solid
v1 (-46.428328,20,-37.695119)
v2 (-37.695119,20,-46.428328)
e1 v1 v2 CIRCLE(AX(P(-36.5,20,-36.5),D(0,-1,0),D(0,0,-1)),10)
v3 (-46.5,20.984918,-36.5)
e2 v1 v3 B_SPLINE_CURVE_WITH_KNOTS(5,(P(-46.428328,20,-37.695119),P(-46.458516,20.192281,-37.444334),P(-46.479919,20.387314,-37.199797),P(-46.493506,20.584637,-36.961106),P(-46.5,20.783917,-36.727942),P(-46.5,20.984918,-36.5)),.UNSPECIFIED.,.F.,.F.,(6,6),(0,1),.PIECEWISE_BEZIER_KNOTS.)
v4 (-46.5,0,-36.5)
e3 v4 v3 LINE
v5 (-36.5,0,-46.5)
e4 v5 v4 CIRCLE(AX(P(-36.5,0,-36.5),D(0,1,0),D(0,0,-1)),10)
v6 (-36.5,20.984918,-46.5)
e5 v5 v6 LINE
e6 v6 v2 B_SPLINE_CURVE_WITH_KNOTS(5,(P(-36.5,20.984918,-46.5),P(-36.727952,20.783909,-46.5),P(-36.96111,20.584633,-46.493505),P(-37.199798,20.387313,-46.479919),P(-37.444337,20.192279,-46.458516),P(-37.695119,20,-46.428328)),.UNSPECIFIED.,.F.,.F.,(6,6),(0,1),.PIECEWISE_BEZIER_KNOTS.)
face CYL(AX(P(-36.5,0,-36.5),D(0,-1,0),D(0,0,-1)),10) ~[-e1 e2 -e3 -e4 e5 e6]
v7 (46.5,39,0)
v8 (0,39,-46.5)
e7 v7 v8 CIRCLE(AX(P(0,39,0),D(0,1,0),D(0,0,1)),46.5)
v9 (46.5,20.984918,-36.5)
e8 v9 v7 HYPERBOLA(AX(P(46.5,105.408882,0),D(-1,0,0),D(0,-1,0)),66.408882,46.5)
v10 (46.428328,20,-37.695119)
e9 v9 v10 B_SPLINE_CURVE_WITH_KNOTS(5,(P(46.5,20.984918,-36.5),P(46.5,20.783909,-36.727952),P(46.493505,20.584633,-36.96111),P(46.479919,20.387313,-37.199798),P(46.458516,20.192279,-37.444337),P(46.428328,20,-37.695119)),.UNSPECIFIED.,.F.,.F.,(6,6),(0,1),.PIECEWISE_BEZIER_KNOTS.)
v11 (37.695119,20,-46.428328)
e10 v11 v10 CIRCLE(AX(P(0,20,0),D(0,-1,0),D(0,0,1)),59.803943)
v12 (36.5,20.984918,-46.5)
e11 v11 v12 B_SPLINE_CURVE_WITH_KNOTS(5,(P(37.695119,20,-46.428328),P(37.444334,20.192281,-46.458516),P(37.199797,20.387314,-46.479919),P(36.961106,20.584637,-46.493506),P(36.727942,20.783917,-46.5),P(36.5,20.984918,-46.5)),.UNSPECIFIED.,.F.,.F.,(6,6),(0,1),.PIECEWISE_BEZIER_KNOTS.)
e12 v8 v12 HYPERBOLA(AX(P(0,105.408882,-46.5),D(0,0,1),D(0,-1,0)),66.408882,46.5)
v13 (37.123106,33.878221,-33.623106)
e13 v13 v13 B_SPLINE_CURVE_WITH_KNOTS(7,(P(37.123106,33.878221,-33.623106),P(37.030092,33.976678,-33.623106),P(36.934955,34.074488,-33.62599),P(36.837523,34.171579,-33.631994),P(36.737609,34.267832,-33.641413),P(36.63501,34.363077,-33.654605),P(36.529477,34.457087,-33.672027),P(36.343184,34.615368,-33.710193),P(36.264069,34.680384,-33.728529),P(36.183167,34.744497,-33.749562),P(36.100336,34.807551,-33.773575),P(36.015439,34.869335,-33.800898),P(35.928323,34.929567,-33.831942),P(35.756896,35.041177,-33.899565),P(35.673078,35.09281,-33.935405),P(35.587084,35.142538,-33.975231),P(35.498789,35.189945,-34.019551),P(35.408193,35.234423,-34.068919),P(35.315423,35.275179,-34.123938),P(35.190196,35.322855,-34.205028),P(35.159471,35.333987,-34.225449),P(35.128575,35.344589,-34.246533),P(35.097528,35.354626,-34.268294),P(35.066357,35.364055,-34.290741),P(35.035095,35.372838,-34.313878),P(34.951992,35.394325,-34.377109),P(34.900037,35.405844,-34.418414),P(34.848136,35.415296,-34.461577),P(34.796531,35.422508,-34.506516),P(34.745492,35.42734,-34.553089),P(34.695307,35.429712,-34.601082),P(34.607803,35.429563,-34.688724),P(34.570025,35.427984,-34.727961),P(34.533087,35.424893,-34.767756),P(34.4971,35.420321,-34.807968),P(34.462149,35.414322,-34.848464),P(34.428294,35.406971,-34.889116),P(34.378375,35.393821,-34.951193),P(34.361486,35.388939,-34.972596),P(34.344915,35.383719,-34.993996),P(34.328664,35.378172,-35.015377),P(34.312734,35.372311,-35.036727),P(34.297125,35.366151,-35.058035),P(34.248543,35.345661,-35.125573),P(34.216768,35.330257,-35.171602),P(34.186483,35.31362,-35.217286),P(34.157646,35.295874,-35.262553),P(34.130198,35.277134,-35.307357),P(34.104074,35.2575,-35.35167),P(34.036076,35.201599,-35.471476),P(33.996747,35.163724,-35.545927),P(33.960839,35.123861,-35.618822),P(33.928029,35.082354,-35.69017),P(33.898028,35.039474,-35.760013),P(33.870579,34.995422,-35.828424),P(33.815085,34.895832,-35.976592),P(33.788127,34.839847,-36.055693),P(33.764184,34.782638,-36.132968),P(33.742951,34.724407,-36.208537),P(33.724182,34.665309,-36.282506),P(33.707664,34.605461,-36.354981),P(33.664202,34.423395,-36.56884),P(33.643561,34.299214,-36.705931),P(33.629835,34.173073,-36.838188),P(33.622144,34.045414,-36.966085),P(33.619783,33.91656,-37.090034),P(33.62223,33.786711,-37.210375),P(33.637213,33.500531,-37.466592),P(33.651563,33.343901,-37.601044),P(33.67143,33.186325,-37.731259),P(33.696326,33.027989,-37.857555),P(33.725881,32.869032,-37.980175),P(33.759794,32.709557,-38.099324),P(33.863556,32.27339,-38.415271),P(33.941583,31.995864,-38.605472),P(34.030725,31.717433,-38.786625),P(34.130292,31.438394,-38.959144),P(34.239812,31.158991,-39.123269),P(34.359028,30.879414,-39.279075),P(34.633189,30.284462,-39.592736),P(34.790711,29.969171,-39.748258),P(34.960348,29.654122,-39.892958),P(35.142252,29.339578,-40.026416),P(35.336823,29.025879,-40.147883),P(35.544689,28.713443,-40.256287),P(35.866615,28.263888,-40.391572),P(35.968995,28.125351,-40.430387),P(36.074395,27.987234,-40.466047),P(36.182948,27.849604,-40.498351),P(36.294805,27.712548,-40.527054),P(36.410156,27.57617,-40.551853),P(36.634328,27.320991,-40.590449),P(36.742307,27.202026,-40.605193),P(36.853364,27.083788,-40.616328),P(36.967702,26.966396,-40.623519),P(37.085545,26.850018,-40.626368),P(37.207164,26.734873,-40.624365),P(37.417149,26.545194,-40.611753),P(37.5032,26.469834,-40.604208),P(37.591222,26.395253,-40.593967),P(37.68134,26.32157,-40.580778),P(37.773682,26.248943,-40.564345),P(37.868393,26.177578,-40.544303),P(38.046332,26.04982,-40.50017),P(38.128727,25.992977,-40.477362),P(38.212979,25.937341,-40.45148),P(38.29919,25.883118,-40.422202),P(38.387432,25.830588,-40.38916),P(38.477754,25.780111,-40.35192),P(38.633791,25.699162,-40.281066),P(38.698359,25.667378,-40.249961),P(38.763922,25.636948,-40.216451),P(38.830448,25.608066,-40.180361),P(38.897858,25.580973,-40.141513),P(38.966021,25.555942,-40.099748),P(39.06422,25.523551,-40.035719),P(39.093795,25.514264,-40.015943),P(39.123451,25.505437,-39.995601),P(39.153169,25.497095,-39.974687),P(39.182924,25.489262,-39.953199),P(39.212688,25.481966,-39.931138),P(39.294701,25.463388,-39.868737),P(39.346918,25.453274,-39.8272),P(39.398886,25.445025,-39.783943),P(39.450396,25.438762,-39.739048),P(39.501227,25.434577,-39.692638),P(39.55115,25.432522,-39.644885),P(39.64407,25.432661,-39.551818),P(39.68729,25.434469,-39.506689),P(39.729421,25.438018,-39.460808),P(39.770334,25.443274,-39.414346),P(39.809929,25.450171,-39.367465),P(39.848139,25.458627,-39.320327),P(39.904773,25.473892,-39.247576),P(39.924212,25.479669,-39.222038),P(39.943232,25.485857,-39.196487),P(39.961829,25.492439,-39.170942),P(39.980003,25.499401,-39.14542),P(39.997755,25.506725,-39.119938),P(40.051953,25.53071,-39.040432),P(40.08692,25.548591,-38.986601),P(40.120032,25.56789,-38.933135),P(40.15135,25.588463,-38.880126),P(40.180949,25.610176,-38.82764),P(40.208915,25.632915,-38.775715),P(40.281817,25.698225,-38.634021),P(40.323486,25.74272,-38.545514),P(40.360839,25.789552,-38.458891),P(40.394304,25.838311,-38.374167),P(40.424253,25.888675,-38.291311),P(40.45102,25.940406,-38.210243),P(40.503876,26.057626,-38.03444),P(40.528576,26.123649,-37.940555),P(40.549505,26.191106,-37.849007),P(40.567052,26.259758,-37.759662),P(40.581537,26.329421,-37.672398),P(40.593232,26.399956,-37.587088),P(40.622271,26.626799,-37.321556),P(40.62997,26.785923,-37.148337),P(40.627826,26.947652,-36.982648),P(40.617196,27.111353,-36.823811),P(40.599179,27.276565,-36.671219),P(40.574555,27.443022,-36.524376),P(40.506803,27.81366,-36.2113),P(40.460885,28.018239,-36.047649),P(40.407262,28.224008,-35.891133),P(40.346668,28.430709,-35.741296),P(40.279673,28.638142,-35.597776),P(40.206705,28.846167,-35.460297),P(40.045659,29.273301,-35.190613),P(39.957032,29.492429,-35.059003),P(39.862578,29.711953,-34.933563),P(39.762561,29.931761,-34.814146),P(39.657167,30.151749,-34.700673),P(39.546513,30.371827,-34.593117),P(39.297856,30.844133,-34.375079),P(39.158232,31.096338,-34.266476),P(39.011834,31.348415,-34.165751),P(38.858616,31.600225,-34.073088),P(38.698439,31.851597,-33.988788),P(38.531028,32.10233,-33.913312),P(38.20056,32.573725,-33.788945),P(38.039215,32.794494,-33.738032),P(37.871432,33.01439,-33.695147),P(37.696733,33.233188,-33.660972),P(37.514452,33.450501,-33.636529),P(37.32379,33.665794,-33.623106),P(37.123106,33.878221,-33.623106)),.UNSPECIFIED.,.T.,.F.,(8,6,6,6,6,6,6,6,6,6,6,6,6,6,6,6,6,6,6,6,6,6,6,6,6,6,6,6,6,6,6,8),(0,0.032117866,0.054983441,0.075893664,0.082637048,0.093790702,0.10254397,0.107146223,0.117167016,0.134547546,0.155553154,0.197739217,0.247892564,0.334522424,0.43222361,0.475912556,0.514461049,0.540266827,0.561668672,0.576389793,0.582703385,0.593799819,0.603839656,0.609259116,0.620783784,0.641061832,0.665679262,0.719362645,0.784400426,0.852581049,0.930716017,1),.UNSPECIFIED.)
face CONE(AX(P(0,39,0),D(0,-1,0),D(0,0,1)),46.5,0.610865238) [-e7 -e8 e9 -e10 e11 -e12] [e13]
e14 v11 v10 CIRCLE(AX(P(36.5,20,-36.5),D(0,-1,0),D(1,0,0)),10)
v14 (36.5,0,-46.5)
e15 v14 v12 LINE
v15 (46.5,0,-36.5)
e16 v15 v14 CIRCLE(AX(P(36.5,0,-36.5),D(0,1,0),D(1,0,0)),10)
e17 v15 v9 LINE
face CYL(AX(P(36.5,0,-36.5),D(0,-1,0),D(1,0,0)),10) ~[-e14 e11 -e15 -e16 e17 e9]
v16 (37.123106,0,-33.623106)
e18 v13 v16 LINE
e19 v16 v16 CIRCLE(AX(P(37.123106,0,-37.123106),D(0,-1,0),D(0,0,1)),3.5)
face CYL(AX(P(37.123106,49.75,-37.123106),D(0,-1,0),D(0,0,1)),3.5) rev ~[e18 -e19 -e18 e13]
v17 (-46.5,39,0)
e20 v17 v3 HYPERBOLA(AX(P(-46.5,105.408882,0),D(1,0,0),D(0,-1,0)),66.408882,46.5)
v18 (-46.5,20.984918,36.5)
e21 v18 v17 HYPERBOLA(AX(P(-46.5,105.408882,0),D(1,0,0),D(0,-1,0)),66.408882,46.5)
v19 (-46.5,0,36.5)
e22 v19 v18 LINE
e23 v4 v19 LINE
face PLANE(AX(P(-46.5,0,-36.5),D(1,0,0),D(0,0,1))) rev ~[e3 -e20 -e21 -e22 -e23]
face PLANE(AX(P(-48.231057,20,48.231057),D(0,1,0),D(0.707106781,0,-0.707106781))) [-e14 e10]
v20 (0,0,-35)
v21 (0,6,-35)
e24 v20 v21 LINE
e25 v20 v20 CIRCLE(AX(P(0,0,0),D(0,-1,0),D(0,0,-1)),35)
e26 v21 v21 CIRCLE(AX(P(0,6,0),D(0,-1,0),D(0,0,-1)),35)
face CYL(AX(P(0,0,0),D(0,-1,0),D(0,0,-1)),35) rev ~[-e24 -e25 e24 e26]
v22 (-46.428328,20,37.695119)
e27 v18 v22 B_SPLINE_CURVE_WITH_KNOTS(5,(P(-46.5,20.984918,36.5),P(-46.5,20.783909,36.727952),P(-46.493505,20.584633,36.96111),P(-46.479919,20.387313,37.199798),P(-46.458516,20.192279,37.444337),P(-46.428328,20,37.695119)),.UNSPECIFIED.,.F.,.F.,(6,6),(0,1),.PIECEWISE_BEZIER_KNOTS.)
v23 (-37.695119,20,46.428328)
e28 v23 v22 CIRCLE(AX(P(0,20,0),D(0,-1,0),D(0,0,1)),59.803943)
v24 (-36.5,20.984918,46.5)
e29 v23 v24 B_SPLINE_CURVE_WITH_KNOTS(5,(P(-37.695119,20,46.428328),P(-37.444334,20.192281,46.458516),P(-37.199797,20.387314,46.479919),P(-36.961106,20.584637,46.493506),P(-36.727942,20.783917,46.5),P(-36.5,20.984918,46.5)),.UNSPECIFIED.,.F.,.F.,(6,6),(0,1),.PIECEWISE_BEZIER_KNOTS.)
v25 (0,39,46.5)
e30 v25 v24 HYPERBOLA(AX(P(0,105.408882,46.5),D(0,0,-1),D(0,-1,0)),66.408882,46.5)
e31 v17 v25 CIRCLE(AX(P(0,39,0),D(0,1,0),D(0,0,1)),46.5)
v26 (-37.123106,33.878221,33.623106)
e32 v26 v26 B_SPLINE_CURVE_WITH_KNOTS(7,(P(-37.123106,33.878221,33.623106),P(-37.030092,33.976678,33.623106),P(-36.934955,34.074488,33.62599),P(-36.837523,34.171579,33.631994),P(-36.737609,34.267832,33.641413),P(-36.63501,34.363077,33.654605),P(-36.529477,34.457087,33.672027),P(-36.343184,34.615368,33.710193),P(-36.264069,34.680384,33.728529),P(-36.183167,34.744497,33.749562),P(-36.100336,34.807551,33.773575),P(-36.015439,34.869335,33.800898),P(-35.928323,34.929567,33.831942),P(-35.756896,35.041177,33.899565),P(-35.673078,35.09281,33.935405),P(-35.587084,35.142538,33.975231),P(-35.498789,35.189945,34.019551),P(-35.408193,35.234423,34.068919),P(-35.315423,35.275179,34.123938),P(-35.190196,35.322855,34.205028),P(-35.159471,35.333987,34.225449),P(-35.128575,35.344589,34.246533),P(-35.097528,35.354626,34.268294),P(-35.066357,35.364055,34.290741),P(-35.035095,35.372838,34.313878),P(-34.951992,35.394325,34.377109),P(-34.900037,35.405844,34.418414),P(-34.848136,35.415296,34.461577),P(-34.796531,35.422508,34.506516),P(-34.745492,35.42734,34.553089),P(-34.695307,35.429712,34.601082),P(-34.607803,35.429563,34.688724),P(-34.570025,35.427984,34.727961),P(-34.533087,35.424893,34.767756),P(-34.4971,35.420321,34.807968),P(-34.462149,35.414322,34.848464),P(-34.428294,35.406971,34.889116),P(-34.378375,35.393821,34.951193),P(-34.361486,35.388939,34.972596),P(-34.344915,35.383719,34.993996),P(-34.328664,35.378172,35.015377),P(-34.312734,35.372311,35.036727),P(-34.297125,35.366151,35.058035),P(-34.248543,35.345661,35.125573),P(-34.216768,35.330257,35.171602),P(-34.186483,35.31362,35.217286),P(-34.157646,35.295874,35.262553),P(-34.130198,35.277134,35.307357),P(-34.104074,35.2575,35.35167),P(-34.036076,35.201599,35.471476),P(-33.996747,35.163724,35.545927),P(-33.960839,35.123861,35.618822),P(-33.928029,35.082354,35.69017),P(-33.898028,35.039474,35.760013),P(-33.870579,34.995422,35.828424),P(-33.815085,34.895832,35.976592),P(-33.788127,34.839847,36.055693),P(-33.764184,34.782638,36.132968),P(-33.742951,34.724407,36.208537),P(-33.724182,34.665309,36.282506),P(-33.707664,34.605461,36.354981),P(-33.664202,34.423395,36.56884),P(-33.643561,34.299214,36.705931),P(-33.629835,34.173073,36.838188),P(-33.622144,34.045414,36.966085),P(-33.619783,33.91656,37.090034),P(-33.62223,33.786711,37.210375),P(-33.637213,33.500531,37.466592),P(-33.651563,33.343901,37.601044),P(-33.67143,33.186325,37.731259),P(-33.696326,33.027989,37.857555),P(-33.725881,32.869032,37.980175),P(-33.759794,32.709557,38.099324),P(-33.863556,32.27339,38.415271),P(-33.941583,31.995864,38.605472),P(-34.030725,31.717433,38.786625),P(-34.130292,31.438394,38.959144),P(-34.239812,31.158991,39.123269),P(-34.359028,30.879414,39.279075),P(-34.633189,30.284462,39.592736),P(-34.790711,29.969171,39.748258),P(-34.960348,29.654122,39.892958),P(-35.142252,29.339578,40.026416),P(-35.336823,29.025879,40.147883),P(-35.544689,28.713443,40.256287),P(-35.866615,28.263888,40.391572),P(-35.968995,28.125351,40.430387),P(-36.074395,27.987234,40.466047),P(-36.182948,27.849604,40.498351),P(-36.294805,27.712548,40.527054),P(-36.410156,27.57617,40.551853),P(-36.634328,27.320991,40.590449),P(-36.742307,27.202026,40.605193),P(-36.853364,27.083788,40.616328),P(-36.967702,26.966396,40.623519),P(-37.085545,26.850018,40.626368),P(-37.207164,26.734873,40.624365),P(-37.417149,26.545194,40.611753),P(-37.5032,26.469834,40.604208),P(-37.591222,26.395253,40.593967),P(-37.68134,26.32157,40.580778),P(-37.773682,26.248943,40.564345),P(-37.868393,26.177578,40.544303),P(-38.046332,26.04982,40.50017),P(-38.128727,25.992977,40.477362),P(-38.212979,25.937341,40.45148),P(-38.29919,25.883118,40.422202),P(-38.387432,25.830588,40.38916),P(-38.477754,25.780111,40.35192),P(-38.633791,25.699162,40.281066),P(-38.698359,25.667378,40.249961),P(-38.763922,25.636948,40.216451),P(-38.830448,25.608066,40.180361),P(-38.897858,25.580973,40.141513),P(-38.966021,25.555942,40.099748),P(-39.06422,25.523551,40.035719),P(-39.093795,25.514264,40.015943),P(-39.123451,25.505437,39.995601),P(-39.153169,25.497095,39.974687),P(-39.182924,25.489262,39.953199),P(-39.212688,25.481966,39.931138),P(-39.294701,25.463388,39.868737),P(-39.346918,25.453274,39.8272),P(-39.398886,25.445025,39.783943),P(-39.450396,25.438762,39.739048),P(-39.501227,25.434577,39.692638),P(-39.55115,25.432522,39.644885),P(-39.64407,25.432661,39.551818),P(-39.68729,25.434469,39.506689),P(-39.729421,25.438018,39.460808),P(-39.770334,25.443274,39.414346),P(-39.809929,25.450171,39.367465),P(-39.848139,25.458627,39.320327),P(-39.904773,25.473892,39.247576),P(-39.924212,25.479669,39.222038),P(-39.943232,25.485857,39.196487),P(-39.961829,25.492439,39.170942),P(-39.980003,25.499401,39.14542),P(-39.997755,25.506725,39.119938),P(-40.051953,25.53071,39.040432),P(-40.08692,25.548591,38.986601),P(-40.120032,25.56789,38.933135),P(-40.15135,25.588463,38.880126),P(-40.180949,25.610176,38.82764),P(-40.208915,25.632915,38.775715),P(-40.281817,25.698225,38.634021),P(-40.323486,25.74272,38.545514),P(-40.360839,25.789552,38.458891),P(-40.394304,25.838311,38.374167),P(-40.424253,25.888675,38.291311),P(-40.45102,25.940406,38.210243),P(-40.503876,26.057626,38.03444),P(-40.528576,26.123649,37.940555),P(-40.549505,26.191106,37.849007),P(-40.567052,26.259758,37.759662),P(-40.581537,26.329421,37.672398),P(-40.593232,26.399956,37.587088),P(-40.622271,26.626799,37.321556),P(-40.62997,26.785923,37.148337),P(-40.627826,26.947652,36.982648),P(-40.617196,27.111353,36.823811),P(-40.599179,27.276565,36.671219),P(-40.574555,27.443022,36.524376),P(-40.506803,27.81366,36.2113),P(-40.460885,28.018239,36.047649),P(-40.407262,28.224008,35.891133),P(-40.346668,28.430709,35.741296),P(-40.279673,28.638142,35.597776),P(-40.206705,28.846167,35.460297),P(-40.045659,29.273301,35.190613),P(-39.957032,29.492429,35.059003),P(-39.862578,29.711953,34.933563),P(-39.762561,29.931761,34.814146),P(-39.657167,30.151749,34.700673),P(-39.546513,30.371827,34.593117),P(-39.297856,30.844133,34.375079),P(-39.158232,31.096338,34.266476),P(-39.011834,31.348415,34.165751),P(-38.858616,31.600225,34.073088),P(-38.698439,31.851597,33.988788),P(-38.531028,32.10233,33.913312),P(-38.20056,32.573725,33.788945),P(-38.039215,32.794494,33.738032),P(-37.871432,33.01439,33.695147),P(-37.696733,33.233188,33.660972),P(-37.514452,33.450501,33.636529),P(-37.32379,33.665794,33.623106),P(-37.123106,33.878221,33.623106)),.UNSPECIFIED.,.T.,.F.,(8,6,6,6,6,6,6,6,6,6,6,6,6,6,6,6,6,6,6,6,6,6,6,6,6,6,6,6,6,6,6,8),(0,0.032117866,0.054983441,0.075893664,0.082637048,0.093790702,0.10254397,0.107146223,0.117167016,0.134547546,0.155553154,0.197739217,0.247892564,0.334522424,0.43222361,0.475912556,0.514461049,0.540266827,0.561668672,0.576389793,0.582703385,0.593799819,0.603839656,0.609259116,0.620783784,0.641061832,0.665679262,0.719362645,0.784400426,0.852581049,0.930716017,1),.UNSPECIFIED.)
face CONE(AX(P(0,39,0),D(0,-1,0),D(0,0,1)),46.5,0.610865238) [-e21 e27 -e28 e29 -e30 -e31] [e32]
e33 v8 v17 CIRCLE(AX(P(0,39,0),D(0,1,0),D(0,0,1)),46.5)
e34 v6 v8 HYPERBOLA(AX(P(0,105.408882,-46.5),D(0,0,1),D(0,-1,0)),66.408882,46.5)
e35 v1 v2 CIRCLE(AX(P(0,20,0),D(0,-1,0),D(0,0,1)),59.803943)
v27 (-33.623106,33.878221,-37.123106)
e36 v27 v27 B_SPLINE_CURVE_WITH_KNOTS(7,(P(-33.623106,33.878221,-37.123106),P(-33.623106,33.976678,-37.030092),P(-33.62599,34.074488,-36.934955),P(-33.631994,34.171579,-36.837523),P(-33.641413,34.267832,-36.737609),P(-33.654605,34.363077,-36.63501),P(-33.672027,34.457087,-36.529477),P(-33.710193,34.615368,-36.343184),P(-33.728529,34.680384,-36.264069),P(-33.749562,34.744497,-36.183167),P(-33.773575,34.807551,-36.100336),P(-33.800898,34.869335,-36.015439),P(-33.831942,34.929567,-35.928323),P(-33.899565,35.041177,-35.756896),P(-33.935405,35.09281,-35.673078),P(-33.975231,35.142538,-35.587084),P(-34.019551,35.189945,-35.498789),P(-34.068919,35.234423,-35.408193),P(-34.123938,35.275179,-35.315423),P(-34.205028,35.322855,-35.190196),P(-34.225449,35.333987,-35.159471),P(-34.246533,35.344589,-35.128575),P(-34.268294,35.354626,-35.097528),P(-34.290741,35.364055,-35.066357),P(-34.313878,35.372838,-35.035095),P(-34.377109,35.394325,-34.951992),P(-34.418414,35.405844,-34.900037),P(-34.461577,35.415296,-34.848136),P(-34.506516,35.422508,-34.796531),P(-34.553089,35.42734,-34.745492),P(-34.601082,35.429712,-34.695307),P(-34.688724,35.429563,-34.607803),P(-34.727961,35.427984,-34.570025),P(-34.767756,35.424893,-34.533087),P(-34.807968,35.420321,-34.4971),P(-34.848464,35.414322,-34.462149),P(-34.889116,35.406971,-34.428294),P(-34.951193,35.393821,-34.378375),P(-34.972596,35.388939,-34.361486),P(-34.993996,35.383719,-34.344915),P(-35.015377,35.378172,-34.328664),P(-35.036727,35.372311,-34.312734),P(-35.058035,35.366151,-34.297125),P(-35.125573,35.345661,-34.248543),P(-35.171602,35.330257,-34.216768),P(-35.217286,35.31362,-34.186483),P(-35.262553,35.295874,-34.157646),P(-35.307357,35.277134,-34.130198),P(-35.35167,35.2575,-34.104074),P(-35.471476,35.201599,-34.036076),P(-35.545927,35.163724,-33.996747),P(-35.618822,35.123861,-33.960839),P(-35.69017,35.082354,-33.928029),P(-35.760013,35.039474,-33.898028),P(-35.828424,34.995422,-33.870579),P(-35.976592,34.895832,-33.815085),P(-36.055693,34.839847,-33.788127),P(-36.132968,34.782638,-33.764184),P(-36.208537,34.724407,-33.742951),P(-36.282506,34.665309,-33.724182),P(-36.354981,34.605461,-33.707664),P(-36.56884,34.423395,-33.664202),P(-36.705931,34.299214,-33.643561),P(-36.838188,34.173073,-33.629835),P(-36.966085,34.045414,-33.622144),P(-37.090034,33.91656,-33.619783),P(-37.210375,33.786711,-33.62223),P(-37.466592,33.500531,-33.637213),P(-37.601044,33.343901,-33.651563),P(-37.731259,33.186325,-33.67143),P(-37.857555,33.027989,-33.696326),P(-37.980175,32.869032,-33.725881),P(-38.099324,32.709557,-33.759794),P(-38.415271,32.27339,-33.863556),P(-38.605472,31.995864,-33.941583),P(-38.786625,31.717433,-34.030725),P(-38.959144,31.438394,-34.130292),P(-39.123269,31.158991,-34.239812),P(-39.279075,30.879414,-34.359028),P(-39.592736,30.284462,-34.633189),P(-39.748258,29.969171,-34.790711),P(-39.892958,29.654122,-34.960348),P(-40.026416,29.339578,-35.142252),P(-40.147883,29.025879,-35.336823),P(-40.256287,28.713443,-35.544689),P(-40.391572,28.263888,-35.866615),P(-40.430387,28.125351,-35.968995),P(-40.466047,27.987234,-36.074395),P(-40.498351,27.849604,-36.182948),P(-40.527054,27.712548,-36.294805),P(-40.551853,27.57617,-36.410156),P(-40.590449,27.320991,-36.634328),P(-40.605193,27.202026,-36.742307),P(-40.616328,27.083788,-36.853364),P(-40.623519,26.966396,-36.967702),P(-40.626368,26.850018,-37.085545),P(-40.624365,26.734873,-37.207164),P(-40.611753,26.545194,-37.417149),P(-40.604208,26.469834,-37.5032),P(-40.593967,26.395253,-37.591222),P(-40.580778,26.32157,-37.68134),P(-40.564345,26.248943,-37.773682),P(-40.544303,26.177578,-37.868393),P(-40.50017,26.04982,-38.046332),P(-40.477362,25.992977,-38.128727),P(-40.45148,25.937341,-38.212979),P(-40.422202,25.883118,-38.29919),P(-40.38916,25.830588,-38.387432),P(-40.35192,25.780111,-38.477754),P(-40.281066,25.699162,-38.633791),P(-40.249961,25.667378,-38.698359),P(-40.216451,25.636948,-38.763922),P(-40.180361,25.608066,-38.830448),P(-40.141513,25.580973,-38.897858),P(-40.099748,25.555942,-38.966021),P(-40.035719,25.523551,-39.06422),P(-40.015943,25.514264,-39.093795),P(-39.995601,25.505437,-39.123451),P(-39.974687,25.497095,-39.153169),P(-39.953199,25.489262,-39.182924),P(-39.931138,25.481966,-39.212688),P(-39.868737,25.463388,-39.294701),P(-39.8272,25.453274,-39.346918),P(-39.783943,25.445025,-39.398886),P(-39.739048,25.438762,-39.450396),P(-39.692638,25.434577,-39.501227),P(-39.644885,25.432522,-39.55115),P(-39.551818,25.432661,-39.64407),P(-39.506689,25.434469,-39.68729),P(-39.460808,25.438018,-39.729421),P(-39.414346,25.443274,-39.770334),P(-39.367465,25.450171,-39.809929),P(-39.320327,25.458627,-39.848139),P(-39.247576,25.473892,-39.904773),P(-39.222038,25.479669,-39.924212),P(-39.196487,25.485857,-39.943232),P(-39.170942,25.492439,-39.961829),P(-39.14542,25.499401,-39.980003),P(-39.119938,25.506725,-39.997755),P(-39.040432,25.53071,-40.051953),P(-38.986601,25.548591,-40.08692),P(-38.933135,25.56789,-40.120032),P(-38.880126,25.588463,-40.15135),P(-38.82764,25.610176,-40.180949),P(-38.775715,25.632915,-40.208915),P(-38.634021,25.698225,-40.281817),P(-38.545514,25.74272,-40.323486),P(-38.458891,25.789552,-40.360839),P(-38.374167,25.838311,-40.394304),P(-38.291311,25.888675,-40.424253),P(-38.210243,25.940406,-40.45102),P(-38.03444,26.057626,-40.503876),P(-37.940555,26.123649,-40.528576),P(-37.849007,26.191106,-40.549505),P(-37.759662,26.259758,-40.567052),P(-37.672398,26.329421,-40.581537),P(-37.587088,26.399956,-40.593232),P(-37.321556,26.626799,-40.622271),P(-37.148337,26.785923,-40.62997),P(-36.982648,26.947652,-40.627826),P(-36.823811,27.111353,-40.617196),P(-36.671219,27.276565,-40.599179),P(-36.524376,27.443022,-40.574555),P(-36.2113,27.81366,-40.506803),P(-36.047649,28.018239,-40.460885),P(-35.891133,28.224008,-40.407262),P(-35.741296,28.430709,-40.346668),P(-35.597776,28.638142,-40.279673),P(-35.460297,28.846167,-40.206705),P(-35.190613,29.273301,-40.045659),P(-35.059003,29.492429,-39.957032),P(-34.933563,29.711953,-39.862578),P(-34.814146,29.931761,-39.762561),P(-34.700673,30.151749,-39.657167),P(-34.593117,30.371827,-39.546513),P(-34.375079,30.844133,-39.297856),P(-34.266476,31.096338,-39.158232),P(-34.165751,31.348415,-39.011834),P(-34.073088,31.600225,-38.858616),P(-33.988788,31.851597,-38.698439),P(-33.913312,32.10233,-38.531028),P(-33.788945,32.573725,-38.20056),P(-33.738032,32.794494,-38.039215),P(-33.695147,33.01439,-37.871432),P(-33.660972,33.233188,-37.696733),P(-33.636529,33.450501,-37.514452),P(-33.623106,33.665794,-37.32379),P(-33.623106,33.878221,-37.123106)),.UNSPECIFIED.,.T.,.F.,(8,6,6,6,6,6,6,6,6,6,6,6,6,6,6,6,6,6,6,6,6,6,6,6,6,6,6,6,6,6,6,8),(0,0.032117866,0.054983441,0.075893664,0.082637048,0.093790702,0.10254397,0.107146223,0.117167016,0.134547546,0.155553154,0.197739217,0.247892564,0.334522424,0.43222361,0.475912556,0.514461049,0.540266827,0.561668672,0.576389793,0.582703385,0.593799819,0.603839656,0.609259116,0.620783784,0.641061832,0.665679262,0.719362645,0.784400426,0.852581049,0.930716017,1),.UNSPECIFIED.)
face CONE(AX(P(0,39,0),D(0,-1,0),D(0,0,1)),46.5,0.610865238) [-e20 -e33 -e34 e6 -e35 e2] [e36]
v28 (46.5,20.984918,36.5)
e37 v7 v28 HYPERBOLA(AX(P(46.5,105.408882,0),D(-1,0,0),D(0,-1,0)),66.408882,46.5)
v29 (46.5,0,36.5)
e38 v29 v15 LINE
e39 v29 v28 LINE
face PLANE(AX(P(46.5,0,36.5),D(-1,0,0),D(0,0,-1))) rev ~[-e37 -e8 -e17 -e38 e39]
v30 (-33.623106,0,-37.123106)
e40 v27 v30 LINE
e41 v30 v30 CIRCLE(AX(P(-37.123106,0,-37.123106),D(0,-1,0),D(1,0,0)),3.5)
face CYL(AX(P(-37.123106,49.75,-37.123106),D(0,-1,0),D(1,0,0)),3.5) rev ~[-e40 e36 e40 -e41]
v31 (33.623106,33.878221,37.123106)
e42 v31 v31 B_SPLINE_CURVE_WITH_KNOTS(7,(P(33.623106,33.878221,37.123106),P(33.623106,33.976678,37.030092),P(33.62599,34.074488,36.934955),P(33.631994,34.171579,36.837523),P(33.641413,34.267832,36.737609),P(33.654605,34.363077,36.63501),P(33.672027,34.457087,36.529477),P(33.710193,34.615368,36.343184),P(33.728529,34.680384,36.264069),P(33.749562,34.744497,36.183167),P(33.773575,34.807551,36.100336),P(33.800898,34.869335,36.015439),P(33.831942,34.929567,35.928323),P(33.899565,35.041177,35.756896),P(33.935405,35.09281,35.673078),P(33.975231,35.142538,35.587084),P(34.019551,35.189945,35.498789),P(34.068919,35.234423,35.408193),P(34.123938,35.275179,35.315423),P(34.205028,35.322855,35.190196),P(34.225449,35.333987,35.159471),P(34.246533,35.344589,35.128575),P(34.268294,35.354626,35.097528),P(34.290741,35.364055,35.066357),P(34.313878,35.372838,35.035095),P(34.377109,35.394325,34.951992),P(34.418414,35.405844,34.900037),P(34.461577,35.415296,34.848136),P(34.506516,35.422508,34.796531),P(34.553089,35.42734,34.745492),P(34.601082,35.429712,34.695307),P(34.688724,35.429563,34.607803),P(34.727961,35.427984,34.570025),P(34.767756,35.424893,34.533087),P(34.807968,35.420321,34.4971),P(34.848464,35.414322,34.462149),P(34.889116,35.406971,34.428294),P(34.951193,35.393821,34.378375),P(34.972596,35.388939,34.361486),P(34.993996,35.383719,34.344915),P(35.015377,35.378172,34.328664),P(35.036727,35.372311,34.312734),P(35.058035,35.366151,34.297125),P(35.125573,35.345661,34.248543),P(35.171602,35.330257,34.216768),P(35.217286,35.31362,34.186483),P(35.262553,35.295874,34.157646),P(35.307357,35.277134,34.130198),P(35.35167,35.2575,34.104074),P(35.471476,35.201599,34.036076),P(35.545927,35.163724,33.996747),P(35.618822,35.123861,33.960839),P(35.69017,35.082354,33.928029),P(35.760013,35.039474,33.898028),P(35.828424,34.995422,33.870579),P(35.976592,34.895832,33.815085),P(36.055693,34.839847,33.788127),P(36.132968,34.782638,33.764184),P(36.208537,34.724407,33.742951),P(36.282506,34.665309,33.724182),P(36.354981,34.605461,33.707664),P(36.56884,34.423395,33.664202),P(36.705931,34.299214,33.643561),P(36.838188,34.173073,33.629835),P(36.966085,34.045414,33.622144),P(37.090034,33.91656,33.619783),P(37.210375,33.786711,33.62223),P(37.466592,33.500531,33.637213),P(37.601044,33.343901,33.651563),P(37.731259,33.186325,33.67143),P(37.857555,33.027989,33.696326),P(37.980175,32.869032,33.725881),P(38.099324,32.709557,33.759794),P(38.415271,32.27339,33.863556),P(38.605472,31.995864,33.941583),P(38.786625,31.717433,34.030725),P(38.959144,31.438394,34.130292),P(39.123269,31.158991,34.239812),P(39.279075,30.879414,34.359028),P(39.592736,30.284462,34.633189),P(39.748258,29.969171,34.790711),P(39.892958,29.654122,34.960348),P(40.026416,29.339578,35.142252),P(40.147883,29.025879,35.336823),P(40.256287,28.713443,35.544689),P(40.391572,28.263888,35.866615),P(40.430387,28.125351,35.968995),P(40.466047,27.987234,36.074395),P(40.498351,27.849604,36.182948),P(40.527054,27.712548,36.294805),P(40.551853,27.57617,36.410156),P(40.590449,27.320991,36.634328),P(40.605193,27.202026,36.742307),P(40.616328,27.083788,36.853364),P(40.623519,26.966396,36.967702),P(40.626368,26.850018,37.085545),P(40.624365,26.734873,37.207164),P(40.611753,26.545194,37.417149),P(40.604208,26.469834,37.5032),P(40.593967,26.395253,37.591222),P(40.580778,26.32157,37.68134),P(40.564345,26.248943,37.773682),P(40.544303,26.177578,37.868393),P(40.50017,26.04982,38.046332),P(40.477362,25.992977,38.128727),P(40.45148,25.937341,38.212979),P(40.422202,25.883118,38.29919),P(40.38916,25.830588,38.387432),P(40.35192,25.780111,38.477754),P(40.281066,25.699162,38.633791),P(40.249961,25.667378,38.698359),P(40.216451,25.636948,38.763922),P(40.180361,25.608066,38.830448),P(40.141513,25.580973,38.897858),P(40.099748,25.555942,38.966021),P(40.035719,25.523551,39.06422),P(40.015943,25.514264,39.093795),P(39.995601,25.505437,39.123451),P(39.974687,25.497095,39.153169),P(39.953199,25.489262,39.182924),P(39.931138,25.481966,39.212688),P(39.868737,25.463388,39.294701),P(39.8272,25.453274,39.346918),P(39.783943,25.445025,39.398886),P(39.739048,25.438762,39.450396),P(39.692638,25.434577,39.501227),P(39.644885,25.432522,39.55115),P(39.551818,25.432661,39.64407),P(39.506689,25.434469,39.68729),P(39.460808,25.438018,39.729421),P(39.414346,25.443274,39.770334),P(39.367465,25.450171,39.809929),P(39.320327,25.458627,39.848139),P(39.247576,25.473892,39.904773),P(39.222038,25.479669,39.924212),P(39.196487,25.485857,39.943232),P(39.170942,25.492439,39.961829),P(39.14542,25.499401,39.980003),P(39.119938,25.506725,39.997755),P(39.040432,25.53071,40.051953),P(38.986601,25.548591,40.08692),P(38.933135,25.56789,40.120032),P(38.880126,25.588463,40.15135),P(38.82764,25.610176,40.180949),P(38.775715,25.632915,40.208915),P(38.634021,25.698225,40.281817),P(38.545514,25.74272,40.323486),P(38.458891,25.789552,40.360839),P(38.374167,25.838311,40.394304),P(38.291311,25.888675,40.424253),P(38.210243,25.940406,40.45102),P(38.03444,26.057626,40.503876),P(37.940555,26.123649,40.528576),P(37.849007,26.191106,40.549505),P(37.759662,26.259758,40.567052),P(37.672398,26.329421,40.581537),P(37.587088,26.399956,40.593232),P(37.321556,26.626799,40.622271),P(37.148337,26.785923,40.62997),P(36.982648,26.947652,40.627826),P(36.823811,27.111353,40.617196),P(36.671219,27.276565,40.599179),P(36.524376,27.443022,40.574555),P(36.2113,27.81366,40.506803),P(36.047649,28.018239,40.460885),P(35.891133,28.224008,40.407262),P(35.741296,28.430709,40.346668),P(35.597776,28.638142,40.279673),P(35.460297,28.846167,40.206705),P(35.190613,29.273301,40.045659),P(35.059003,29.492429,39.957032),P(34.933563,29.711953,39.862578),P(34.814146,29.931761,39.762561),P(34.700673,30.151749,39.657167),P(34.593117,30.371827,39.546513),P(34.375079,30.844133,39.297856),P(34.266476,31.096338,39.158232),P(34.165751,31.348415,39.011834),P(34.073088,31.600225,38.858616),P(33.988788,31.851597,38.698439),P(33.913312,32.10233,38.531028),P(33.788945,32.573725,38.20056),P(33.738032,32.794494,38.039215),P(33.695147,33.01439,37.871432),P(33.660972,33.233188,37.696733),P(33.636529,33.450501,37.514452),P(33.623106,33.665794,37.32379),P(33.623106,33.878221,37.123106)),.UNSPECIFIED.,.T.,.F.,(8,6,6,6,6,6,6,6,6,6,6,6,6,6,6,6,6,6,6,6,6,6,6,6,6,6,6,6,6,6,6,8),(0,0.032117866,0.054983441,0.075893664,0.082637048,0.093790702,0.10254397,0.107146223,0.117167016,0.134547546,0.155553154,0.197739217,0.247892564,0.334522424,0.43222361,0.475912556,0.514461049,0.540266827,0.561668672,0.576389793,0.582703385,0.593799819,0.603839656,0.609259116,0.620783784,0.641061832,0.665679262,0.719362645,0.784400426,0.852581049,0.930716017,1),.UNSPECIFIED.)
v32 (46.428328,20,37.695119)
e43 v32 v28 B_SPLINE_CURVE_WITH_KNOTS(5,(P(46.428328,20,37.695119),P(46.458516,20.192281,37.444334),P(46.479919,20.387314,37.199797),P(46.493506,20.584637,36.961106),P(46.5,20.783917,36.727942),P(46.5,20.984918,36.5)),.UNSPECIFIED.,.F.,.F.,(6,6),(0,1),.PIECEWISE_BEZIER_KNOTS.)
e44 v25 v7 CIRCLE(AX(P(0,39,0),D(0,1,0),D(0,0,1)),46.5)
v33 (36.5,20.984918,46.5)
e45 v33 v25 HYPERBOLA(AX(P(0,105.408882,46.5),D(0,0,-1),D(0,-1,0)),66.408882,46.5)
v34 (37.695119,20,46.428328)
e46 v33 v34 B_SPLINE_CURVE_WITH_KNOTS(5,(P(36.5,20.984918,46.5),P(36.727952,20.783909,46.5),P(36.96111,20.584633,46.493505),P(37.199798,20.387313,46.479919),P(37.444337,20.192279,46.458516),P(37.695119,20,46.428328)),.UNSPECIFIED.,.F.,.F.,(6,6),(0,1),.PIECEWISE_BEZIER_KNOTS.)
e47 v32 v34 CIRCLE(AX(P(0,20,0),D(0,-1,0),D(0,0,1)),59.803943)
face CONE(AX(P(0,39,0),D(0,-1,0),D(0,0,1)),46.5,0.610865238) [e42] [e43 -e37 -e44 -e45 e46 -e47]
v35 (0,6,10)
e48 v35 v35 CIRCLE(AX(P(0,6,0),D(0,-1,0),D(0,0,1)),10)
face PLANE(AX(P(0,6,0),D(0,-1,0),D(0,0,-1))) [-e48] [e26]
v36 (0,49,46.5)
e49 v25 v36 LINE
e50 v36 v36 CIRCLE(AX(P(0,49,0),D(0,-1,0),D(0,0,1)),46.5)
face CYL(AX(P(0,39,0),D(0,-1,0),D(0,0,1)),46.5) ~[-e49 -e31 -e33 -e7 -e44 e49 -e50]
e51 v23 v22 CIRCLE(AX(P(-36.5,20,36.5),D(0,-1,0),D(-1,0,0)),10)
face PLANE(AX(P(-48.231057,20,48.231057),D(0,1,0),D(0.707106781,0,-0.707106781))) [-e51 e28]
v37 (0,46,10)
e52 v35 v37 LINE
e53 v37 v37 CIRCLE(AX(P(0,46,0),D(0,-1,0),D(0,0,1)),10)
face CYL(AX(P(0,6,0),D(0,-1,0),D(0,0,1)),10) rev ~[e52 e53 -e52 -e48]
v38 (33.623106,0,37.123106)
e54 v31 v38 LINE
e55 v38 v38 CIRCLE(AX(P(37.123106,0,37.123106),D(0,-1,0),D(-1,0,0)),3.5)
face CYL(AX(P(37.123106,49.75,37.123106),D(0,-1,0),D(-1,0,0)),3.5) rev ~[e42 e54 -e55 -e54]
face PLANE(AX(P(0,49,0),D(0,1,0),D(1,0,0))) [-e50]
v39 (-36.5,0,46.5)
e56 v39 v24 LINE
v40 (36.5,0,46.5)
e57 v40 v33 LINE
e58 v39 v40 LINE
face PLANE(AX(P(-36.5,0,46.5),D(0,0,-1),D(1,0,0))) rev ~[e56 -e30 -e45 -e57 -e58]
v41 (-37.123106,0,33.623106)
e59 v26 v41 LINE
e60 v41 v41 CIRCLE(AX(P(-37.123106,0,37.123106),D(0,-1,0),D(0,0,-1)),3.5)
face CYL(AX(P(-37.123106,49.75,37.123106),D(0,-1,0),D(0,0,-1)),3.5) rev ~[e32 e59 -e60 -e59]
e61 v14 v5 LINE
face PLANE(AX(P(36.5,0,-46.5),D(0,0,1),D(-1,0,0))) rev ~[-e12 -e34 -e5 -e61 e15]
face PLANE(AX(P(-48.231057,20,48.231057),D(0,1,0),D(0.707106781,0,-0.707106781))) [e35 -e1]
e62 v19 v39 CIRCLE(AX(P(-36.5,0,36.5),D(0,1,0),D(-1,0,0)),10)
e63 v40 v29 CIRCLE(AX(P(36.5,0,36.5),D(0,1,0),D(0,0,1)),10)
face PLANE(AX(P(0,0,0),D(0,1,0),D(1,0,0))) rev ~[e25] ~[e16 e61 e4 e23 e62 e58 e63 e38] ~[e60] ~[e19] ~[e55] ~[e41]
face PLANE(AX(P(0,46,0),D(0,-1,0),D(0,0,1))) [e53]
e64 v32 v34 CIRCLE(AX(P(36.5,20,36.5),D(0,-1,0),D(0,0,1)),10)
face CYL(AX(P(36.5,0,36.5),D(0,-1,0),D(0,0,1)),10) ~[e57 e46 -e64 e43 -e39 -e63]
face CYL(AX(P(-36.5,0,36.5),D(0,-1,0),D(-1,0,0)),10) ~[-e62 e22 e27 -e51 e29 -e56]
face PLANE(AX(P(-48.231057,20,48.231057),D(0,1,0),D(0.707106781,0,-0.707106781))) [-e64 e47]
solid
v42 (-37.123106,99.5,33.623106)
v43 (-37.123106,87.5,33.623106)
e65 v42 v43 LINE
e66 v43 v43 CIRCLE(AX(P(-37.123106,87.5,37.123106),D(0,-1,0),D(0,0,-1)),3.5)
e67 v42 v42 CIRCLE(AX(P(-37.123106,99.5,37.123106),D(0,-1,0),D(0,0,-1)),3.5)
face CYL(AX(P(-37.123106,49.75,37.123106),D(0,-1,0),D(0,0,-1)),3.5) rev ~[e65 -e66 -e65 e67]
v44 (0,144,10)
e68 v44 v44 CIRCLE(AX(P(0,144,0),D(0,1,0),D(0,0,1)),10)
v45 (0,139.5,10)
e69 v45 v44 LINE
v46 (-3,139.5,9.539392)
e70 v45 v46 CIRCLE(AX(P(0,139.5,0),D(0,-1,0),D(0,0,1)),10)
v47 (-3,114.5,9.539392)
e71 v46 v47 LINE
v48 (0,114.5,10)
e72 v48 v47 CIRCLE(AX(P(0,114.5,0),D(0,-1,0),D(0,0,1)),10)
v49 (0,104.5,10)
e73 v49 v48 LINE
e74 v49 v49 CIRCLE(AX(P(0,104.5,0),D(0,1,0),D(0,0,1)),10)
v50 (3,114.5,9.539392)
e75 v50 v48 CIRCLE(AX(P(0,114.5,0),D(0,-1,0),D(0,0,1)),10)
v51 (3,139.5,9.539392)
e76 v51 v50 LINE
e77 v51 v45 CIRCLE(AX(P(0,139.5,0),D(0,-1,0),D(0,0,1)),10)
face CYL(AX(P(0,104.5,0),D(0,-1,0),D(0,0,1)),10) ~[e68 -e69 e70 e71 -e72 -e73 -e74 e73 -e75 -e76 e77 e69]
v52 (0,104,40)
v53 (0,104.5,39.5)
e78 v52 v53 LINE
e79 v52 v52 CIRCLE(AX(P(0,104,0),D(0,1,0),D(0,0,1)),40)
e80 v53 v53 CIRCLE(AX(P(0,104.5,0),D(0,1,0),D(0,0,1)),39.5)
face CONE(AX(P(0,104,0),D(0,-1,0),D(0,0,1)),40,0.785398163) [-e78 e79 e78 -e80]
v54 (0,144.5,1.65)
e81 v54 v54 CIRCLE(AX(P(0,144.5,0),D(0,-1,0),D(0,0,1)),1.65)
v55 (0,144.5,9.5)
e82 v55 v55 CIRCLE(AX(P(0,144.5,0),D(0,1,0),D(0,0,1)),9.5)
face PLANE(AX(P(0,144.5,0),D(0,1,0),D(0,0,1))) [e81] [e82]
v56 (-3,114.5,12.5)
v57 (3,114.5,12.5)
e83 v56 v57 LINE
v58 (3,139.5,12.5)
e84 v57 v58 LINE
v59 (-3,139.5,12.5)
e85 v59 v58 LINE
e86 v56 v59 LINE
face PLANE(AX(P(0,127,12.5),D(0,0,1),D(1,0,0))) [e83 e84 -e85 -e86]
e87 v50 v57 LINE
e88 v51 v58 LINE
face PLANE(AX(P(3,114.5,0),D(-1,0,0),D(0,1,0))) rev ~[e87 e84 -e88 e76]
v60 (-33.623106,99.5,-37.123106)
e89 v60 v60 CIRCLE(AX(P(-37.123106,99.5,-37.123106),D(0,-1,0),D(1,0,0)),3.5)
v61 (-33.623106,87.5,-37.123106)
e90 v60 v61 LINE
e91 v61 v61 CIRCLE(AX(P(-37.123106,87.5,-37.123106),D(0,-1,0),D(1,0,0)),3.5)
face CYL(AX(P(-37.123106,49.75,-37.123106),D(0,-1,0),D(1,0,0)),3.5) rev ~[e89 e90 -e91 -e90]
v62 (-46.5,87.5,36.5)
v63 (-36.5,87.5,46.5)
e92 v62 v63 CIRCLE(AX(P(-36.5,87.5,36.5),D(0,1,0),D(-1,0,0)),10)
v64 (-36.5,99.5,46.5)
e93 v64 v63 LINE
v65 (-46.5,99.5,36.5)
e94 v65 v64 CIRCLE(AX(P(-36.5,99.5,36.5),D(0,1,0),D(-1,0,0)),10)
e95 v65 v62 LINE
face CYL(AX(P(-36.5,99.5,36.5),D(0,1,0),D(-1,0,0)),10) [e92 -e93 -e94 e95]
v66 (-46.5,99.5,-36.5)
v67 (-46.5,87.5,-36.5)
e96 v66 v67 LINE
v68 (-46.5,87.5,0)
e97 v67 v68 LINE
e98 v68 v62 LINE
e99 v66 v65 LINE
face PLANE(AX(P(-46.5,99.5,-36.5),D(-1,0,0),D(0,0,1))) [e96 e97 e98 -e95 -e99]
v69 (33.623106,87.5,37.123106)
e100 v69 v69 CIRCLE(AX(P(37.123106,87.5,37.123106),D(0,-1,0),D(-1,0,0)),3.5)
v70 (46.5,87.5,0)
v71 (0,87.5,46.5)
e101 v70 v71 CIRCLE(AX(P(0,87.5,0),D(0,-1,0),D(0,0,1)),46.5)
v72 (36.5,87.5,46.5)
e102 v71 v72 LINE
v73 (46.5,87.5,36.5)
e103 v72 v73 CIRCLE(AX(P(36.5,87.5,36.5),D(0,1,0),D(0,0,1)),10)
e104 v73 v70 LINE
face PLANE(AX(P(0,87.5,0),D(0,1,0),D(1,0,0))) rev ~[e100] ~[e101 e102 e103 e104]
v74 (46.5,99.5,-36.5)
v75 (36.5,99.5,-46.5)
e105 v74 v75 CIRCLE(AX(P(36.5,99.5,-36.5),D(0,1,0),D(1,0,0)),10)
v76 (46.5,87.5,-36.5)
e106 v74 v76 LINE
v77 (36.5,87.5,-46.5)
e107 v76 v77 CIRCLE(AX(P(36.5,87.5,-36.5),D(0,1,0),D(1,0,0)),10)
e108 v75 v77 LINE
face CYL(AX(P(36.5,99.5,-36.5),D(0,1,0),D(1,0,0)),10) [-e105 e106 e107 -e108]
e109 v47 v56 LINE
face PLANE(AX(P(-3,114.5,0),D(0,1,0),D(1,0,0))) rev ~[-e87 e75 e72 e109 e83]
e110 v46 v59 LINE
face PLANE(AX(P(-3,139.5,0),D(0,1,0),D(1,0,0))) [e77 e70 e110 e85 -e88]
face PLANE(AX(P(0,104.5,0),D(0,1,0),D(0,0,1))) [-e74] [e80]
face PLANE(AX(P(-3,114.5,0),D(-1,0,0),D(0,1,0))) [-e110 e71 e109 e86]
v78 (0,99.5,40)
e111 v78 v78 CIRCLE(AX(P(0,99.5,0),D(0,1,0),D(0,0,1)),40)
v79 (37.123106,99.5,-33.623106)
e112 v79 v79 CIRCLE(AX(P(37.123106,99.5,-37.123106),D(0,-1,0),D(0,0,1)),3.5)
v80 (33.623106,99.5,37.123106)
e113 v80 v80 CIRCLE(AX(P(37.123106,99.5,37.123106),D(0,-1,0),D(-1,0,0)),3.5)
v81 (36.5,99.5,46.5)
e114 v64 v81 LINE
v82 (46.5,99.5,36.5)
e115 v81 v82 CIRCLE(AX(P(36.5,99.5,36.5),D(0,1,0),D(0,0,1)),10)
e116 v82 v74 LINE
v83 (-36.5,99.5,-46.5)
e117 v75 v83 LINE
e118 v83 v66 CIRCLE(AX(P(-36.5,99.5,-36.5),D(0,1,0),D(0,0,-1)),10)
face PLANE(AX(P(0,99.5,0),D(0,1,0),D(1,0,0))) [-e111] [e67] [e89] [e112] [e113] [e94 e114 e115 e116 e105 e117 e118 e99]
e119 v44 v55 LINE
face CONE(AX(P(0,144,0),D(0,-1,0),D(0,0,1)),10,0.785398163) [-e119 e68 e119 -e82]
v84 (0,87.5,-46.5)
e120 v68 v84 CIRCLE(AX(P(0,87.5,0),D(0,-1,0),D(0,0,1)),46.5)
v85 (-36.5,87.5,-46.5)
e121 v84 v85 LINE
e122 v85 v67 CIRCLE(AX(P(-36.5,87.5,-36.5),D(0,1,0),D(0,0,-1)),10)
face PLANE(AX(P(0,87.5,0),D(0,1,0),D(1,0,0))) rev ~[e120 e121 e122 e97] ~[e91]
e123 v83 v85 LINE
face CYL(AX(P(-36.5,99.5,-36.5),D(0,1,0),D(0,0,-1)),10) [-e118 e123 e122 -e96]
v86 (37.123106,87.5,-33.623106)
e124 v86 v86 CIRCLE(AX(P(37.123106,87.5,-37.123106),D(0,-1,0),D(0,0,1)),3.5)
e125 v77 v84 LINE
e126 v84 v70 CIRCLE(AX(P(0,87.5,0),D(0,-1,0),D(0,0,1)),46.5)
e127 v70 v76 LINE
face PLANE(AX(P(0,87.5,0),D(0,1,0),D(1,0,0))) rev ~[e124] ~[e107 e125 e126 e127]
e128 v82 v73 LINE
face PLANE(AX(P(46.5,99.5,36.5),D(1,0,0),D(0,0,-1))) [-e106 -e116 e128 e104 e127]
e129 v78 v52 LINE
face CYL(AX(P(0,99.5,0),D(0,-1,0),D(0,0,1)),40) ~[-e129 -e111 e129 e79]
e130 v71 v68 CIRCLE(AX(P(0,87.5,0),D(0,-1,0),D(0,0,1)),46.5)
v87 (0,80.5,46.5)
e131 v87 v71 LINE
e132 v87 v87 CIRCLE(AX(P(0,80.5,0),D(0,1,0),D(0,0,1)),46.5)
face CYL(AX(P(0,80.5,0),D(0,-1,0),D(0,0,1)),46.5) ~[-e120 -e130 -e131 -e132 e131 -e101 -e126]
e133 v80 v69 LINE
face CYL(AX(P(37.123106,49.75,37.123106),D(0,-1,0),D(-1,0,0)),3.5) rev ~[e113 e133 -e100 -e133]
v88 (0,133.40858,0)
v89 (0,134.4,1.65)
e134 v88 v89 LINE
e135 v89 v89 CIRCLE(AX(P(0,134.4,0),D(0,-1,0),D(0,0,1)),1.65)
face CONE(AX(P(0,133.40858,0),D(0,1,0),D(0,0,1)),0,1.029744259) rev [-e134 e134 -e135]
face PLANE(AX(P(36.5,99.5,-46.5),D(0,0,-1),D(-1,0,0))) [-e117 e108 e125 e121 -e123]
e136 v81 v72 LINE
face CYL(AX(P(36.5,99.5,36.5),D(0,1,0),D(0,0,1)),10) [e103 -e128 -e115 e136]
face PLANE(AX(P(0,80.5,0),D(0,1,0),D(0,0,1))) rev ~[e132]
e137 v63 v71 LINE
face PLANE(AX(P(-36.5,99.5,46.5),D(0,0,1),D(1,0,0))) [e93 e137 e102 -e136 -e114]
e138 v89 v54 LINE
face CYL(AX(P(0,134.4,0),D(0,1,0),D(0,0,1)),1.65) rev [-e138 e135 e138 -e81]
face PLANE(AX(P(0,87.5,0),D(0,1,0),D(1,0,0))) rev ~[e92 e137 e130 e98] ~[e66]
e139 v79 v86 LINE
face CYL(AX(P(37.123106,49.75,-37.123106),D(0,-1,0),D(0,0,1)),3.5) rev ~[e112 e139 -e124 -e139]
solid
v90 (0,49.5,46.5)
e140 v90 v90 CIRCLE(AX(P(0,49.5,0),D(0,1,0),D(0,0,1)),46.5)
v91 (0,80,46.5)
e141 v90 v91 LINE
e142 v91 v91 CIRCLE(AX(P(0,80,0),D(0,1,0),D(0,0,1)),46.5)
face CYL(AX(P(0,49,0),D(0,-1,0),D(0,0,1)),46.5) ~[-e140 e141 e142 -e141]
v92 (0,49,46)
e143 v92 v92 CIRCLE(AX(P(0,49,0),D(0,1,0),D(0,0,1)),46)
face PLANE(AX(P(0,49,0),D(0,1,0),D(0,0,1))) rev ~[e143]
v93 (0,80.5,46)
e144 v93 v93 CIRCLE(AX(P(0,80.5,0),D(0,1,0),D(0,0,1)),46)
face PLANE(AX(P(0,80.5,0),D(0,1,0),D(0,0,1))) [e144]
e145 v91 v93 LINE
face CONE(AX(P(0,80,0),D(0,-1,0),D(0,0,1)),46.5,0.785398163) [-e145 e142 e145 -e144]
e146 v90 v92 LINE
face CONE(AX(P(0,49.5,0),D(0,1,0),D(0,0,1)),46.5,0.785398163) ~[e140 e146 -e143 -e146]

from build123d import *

# Parameters (mm, degrees)
EXTRUDE_1_DEPTH               = 49
CUT_EXTRUDE_START             = -10
SKETCH_2_OUTSIDE_W            = 123.07
SKETCH_2_OUTSIDE_H            = 123.07
SKETCH_2_OUTSIDE_R            = 46.5
CUT_EXTRUDE_3_DEPTH           = 10
CUT_EXTRUDE_3_OTHER_WAY_DEPTH = 19
CUT_EXTRUDE_3_OTHER_WAY_TAPER = 35
SKETCH_3_R                    = 46.5
EXTRUDE_2_DEPTH               = 31.5
SKETCH_4_R                    = 46.5
EXTRUDE_3_DEPTH               = 19
CHAMFER_1_SIZE                = 0.5
SKETCH_6_R                    = 40
EXTRUDE_5_DEPTH               = 5
SKETCH_7_R                    = 10
EXTRUDE_6_DEPTH               = 40
CHAMFER_2_SIZE                = 0.5
SKETCH_10_W                   = 6
SKETCH_10_H                   = 25
EXTRUDE_7_DEPTH               = 12.5
SKETCH_11_R                   = 35
CUT_EXTRUDE_4_DEPTH           = 6
SKETCH_12_R                   = 10
CUT_EXTRUDE_5_DEPTH           = 40
SKETCH_15_R                   = 44.756471123
EXTRUDE_8_DEPTH               = 12
SKETCH_16_W                   = 3.5
SKETCH_16_H                   = 99.5
PATTERN_CIRCULAR_1_COUNT      = 4


with BuildPart() as part:
    # 草圖1 → 填料-伸長1 (new body)
    with BuildSketch(Plane(origin=(0, 0, 0), x_dir=(1, 0, 0), z_dir=(0, 1, 0))):
        with BuildLine():
            Line((-36.5, -46.5), (36.5, -46.5))
            ThreePointArc((36.5, -46.5), (43.571067812, -43.571067812), (46.5, -36.5))
            Line((46.5, -36.5), (46.5, 36.5))
            ThreePointArc((46.5, 36.5), (43.571067812, 43.571067812), (36.5, 46.5))
            Line((36.5, 46.5), (-36.5, 46.5))
            ThreePointArc((-36.5, 46.5), (-43.571067812, 43.571067812), (-46.5, 36.5))
            Line((-46.5, 36.5), (-46.5, -36.5))
            ThreePointArc((-46.5, -36.5), (-43.571067812, -43.571067812), (-36.5, -46.5))
        make_face()
    extrude(amount=EXTRUDE_1_DEPTH)

    # 草圖2 outside → 除料-伸長3 (cut)
    with BuildSketch(Plane(origin=(0, 49, 0), x_dir=(1, 0, 0), z_dir=(0, 1, 0)).offset(CUT_EXTRUDE_START)):
        Rectangle(SKETCH_2_OUTSIDE_W, SKETCH_2_OUTSIDE_H)
        with Locations(Location((0, 0, 0), (0, 0, 270))):  # turned: the seam where the file's is
            Circle(SKETCH_2_OUTSIDE_R, mode=Mode.SUBTRACT)
    extrude(amount=CUT_EXTRUDE_3_DEPTH, mode=Mode.SUBTRACT)

    # 草圖2 outside → 除料-伸長3 other way (cut)
    with BuildSketch(Plane(origin=(0, 49, 0), x_dir=(1, 0, 0), z_dir=(0, 1, 0)).offset(CUT_EXTRUDE_START)):
        Rectangle(SKETCH_2_OUTSIDE_W, SKETCH_2_OUTSIDE_H)
        with Locations(Location((0, 0, 0), (0, 0, 270))):  # turned: the seam where the file's is
            Circle(SKETCH_2_OUTSIDE_R, mode=Mode.SUBTRACT)
    extrude(amount=-CUT_EXTRUDE_3_OTHER_WAY_DEPTH, taper=CUT_EXTRUDE_3_OTHER_WAY_TAPER, mode=Mode.SUBTRACT)

    # 草圖11 → 除料-伸長4 (cut)
    with BuildSketch(Plane.XZ):
        with Locations(Location((0, 0, 0), (0, 0, 270))):  # turned: the seam where the file's is
            Circle(SKETCH_11_R)
    extrude(amount=-CUT_EXTRUDE_4_DEPTH, mode=Mode.SUBTRACT)

    # 草圖12 → 除料-伸長5 (cut)
    with BuildSketch(Plane.XZ.offset(-6)):
        with Locations(Location((0, 0, 0), (0, 0, 90))):  # turned: the seam where the file's is
            Circle(SKETCH_12_R)
    extrude(amount=-CUT_EXTRUDE_5_DEPTH, mode=Mode.SUBTRACT)


with BuildPart() as body_2:
    # 草圖3 → 填料-伸長2 (new body)
    with BuildSketch(Plane(origin=(0, 49, 0), x_dir=(1, 0, 0), z_dir=(0, 1, 0))):
        with Locations(Location((0, 0, 0), (0, 0, 270))):  # turned: the seam where the file's is
            Circle(SKETCH_3_R)
    extrude(amount=EXTRUDE_2_DEPTH)

    # 導角1
    chamfer_1_edges = [body_2.edges().sort_by_distance(p)[0] for p in [
        (0, 49, -46.5),
        (0, 80.5, -46.5),
    ]]
    chamfer(chamfer_1_edges, length=CHAMFER_1_SIZE)


with BuildPart() as body_3:
    # 草圖4 → 填料-伸長3 (new body)
    with BuildSketch(Plane(origin=(0, 80.5, 0), x_dir=(1, 0, 0), z_dir=(0, 1, 0))):
        with Locations(Location((0, 0, 0), (0, 0, 270))):  # turned: the seam where the file's is
            Circle(SKETCH_4_R)
    extrude(amount=EXTRUDE_3_DEPTH)

    # 草圖6 → 填料-伸長5 (add)
    with BuildSketch(Plane(origin=(0, 99.5, 0), x_dir=(1, 0, 0), z_dir=(0, 1, 0))):
        with Locations(Location((0, 0, 0), (0, 0, 270))):  # turned: the seam where the file's is
            Circle(SKETCH_6_R)
    extrude(amount=EXTRUDE_5_DEPTH)

    # 草圖7 → 填料-伸長6 (add)
    with BuildSketch(Plane(origin=(0, 104.5, 0), x_dir=(1, 0, 0), z_dir=(0, 1, 0))):
        with Locations(Location((0, 0, 0), (0, 0, 270))):  # turned: the seam where the file's is
            Circle(SKETCH_7_R)
    extrude(amount=EXTRUDE_6_DEPTH)

    # 導角2
    chamfer_2_edges = [body_3.edges().sort_by_distance(p)[0] for p in [
        (0, 144.5, -10),
        (0, 99.5, -46.5),
        (0, 104.5, -40),
    ]]
    chamfer(chamfer_2_edges, length=CHAMFER_2_SIZE)

    # 草圖10 → 填料-伸長7 (add)
    with BuildSketch(Plane.XY):
        with Locations((0, 127)):
            Rectangle(SKETCH_10_W, SKETCH_10_H)
    extrude(amount=EXTRUDE_7_DEPTH)

    # 草圖13 → M4x0.7 螺紋孔1 (revolve, cut)
    with BuildSketch(Plane(origin=(0, 144.5, 0), x_dir=(0, 0, 1), z_dir=(1, 0, 0))):
        Polygon((0, 0), (0, 11.091420021), (1.65, 10.1), (1.65, 0), align=None)
    revolve(axis=Axis((0, 150.85, 0), (0, -1, 0)), mode=Mode.SUBTRACT)

    # 草圖15 → 填料-伸長8 (add)
    with BuildSketch(Plane(origin=(0, 99.5, 0), x_dir=(1, 0, 0), z_dir=(0, 1, 0))):
        with BuildLine():
            Line((-36.5, -46.5), (36.5, -46.5))
            ThreePointArc((36.5, -46.5), (43.571067812, -43.571067812), (46.5, -36.5))
            Line((46.5, -36.5), (46.5, 36.5))
            ThreePointArc((46.5, 36.5), (43.571067812, 43.571067812), (36.5, 46.5))
            Line((36.5, 46.5), (-36.5, 46.5))
            ThreePointArc((-36.5, 46.5), (-43.571067812, 43.571067812), (-46.5, 36.5))
            Line((-46.5, 36.5), (-46.5, -36.5))
            ThreePointArc((-46.5, -36.5), (-43.571067812, -43.571067812), (-36.5, -46.5))
        make_face()
        Circle(SKETCH_15_R, mode=Mode.SUBTRACT)
    extrude(amount=-EXTRUDE_8_DEPTH)


with BuildPart() as hole_wizard_7_0_7_3_tool:
    # 草圖16 → Ø7.0 (7) 直徑孔3 (revolve)
    with BuildSketch(Plane(origin=(37.123106012, 99.5, -37.123106012), x_dir=(0, 0, 1), z_dir=(1, 0, 0))):
        with Locations((1.75, 49.75)):
            Rectangle(SKETCH_16_W, SKETCH_16_H)
    hole_wizard_7_0_7_3 = revolve(axis=Axis((37.123106012, 105.85, -37.123106012), (0, -1, 0)))


with BuildPart() as part_1:
    add(part.part)

    # Ø7.0 (7) 直徑孔3: cut by hole_wizard_7_0_7_3_tool
    add(hole_wizard_7_0_7_3_tool.part, mode=Mode.SUBTRACT)


with BuildPart() as body_3_1:
    add(body_3.part)

    # Ø7.0 (7) 直徑孔3: cut by hole_wizard_7_0_7_3_tool
    add(hole_wizard_7_0_7_3_tool.part, mode=Mode.SUBTRACT)


with BuildPart() as pattern_circular_1_tool:
    # 環狀複製排列1: Ø7.0 (7) 直徑孔3 ×4 about axis
    pattern_circular_1_axis = Axis((0, 0, 0), (0, 1, 0))
    for i in range(1, PATTERN_CIRCULAR_1_COUNT):
        add(hole_wizard_7_0_7_3.rotate(pattern_circular_1_axis, i * 360 / PATTERN_CIRCULAR_1_COUNT))


with BuildPart() as part_2:
    add(part_1.part)

    # 環狀複製排列1: cut by pattern_circular_1_tool
    add(pattern_circular_1_tool.part, mode=Mode.SUBTRACT)


with BuildPart() as body_3_2:
    add(body_3_1.part)

    # 環狀複製排列1: cut by pattern_circular_1_tool
    add(pattern_circular_1_tool.part, mode=Mode.SUBTRACT)


solid = Compound([body_2.part, part_2.part, body_3_2.part])
